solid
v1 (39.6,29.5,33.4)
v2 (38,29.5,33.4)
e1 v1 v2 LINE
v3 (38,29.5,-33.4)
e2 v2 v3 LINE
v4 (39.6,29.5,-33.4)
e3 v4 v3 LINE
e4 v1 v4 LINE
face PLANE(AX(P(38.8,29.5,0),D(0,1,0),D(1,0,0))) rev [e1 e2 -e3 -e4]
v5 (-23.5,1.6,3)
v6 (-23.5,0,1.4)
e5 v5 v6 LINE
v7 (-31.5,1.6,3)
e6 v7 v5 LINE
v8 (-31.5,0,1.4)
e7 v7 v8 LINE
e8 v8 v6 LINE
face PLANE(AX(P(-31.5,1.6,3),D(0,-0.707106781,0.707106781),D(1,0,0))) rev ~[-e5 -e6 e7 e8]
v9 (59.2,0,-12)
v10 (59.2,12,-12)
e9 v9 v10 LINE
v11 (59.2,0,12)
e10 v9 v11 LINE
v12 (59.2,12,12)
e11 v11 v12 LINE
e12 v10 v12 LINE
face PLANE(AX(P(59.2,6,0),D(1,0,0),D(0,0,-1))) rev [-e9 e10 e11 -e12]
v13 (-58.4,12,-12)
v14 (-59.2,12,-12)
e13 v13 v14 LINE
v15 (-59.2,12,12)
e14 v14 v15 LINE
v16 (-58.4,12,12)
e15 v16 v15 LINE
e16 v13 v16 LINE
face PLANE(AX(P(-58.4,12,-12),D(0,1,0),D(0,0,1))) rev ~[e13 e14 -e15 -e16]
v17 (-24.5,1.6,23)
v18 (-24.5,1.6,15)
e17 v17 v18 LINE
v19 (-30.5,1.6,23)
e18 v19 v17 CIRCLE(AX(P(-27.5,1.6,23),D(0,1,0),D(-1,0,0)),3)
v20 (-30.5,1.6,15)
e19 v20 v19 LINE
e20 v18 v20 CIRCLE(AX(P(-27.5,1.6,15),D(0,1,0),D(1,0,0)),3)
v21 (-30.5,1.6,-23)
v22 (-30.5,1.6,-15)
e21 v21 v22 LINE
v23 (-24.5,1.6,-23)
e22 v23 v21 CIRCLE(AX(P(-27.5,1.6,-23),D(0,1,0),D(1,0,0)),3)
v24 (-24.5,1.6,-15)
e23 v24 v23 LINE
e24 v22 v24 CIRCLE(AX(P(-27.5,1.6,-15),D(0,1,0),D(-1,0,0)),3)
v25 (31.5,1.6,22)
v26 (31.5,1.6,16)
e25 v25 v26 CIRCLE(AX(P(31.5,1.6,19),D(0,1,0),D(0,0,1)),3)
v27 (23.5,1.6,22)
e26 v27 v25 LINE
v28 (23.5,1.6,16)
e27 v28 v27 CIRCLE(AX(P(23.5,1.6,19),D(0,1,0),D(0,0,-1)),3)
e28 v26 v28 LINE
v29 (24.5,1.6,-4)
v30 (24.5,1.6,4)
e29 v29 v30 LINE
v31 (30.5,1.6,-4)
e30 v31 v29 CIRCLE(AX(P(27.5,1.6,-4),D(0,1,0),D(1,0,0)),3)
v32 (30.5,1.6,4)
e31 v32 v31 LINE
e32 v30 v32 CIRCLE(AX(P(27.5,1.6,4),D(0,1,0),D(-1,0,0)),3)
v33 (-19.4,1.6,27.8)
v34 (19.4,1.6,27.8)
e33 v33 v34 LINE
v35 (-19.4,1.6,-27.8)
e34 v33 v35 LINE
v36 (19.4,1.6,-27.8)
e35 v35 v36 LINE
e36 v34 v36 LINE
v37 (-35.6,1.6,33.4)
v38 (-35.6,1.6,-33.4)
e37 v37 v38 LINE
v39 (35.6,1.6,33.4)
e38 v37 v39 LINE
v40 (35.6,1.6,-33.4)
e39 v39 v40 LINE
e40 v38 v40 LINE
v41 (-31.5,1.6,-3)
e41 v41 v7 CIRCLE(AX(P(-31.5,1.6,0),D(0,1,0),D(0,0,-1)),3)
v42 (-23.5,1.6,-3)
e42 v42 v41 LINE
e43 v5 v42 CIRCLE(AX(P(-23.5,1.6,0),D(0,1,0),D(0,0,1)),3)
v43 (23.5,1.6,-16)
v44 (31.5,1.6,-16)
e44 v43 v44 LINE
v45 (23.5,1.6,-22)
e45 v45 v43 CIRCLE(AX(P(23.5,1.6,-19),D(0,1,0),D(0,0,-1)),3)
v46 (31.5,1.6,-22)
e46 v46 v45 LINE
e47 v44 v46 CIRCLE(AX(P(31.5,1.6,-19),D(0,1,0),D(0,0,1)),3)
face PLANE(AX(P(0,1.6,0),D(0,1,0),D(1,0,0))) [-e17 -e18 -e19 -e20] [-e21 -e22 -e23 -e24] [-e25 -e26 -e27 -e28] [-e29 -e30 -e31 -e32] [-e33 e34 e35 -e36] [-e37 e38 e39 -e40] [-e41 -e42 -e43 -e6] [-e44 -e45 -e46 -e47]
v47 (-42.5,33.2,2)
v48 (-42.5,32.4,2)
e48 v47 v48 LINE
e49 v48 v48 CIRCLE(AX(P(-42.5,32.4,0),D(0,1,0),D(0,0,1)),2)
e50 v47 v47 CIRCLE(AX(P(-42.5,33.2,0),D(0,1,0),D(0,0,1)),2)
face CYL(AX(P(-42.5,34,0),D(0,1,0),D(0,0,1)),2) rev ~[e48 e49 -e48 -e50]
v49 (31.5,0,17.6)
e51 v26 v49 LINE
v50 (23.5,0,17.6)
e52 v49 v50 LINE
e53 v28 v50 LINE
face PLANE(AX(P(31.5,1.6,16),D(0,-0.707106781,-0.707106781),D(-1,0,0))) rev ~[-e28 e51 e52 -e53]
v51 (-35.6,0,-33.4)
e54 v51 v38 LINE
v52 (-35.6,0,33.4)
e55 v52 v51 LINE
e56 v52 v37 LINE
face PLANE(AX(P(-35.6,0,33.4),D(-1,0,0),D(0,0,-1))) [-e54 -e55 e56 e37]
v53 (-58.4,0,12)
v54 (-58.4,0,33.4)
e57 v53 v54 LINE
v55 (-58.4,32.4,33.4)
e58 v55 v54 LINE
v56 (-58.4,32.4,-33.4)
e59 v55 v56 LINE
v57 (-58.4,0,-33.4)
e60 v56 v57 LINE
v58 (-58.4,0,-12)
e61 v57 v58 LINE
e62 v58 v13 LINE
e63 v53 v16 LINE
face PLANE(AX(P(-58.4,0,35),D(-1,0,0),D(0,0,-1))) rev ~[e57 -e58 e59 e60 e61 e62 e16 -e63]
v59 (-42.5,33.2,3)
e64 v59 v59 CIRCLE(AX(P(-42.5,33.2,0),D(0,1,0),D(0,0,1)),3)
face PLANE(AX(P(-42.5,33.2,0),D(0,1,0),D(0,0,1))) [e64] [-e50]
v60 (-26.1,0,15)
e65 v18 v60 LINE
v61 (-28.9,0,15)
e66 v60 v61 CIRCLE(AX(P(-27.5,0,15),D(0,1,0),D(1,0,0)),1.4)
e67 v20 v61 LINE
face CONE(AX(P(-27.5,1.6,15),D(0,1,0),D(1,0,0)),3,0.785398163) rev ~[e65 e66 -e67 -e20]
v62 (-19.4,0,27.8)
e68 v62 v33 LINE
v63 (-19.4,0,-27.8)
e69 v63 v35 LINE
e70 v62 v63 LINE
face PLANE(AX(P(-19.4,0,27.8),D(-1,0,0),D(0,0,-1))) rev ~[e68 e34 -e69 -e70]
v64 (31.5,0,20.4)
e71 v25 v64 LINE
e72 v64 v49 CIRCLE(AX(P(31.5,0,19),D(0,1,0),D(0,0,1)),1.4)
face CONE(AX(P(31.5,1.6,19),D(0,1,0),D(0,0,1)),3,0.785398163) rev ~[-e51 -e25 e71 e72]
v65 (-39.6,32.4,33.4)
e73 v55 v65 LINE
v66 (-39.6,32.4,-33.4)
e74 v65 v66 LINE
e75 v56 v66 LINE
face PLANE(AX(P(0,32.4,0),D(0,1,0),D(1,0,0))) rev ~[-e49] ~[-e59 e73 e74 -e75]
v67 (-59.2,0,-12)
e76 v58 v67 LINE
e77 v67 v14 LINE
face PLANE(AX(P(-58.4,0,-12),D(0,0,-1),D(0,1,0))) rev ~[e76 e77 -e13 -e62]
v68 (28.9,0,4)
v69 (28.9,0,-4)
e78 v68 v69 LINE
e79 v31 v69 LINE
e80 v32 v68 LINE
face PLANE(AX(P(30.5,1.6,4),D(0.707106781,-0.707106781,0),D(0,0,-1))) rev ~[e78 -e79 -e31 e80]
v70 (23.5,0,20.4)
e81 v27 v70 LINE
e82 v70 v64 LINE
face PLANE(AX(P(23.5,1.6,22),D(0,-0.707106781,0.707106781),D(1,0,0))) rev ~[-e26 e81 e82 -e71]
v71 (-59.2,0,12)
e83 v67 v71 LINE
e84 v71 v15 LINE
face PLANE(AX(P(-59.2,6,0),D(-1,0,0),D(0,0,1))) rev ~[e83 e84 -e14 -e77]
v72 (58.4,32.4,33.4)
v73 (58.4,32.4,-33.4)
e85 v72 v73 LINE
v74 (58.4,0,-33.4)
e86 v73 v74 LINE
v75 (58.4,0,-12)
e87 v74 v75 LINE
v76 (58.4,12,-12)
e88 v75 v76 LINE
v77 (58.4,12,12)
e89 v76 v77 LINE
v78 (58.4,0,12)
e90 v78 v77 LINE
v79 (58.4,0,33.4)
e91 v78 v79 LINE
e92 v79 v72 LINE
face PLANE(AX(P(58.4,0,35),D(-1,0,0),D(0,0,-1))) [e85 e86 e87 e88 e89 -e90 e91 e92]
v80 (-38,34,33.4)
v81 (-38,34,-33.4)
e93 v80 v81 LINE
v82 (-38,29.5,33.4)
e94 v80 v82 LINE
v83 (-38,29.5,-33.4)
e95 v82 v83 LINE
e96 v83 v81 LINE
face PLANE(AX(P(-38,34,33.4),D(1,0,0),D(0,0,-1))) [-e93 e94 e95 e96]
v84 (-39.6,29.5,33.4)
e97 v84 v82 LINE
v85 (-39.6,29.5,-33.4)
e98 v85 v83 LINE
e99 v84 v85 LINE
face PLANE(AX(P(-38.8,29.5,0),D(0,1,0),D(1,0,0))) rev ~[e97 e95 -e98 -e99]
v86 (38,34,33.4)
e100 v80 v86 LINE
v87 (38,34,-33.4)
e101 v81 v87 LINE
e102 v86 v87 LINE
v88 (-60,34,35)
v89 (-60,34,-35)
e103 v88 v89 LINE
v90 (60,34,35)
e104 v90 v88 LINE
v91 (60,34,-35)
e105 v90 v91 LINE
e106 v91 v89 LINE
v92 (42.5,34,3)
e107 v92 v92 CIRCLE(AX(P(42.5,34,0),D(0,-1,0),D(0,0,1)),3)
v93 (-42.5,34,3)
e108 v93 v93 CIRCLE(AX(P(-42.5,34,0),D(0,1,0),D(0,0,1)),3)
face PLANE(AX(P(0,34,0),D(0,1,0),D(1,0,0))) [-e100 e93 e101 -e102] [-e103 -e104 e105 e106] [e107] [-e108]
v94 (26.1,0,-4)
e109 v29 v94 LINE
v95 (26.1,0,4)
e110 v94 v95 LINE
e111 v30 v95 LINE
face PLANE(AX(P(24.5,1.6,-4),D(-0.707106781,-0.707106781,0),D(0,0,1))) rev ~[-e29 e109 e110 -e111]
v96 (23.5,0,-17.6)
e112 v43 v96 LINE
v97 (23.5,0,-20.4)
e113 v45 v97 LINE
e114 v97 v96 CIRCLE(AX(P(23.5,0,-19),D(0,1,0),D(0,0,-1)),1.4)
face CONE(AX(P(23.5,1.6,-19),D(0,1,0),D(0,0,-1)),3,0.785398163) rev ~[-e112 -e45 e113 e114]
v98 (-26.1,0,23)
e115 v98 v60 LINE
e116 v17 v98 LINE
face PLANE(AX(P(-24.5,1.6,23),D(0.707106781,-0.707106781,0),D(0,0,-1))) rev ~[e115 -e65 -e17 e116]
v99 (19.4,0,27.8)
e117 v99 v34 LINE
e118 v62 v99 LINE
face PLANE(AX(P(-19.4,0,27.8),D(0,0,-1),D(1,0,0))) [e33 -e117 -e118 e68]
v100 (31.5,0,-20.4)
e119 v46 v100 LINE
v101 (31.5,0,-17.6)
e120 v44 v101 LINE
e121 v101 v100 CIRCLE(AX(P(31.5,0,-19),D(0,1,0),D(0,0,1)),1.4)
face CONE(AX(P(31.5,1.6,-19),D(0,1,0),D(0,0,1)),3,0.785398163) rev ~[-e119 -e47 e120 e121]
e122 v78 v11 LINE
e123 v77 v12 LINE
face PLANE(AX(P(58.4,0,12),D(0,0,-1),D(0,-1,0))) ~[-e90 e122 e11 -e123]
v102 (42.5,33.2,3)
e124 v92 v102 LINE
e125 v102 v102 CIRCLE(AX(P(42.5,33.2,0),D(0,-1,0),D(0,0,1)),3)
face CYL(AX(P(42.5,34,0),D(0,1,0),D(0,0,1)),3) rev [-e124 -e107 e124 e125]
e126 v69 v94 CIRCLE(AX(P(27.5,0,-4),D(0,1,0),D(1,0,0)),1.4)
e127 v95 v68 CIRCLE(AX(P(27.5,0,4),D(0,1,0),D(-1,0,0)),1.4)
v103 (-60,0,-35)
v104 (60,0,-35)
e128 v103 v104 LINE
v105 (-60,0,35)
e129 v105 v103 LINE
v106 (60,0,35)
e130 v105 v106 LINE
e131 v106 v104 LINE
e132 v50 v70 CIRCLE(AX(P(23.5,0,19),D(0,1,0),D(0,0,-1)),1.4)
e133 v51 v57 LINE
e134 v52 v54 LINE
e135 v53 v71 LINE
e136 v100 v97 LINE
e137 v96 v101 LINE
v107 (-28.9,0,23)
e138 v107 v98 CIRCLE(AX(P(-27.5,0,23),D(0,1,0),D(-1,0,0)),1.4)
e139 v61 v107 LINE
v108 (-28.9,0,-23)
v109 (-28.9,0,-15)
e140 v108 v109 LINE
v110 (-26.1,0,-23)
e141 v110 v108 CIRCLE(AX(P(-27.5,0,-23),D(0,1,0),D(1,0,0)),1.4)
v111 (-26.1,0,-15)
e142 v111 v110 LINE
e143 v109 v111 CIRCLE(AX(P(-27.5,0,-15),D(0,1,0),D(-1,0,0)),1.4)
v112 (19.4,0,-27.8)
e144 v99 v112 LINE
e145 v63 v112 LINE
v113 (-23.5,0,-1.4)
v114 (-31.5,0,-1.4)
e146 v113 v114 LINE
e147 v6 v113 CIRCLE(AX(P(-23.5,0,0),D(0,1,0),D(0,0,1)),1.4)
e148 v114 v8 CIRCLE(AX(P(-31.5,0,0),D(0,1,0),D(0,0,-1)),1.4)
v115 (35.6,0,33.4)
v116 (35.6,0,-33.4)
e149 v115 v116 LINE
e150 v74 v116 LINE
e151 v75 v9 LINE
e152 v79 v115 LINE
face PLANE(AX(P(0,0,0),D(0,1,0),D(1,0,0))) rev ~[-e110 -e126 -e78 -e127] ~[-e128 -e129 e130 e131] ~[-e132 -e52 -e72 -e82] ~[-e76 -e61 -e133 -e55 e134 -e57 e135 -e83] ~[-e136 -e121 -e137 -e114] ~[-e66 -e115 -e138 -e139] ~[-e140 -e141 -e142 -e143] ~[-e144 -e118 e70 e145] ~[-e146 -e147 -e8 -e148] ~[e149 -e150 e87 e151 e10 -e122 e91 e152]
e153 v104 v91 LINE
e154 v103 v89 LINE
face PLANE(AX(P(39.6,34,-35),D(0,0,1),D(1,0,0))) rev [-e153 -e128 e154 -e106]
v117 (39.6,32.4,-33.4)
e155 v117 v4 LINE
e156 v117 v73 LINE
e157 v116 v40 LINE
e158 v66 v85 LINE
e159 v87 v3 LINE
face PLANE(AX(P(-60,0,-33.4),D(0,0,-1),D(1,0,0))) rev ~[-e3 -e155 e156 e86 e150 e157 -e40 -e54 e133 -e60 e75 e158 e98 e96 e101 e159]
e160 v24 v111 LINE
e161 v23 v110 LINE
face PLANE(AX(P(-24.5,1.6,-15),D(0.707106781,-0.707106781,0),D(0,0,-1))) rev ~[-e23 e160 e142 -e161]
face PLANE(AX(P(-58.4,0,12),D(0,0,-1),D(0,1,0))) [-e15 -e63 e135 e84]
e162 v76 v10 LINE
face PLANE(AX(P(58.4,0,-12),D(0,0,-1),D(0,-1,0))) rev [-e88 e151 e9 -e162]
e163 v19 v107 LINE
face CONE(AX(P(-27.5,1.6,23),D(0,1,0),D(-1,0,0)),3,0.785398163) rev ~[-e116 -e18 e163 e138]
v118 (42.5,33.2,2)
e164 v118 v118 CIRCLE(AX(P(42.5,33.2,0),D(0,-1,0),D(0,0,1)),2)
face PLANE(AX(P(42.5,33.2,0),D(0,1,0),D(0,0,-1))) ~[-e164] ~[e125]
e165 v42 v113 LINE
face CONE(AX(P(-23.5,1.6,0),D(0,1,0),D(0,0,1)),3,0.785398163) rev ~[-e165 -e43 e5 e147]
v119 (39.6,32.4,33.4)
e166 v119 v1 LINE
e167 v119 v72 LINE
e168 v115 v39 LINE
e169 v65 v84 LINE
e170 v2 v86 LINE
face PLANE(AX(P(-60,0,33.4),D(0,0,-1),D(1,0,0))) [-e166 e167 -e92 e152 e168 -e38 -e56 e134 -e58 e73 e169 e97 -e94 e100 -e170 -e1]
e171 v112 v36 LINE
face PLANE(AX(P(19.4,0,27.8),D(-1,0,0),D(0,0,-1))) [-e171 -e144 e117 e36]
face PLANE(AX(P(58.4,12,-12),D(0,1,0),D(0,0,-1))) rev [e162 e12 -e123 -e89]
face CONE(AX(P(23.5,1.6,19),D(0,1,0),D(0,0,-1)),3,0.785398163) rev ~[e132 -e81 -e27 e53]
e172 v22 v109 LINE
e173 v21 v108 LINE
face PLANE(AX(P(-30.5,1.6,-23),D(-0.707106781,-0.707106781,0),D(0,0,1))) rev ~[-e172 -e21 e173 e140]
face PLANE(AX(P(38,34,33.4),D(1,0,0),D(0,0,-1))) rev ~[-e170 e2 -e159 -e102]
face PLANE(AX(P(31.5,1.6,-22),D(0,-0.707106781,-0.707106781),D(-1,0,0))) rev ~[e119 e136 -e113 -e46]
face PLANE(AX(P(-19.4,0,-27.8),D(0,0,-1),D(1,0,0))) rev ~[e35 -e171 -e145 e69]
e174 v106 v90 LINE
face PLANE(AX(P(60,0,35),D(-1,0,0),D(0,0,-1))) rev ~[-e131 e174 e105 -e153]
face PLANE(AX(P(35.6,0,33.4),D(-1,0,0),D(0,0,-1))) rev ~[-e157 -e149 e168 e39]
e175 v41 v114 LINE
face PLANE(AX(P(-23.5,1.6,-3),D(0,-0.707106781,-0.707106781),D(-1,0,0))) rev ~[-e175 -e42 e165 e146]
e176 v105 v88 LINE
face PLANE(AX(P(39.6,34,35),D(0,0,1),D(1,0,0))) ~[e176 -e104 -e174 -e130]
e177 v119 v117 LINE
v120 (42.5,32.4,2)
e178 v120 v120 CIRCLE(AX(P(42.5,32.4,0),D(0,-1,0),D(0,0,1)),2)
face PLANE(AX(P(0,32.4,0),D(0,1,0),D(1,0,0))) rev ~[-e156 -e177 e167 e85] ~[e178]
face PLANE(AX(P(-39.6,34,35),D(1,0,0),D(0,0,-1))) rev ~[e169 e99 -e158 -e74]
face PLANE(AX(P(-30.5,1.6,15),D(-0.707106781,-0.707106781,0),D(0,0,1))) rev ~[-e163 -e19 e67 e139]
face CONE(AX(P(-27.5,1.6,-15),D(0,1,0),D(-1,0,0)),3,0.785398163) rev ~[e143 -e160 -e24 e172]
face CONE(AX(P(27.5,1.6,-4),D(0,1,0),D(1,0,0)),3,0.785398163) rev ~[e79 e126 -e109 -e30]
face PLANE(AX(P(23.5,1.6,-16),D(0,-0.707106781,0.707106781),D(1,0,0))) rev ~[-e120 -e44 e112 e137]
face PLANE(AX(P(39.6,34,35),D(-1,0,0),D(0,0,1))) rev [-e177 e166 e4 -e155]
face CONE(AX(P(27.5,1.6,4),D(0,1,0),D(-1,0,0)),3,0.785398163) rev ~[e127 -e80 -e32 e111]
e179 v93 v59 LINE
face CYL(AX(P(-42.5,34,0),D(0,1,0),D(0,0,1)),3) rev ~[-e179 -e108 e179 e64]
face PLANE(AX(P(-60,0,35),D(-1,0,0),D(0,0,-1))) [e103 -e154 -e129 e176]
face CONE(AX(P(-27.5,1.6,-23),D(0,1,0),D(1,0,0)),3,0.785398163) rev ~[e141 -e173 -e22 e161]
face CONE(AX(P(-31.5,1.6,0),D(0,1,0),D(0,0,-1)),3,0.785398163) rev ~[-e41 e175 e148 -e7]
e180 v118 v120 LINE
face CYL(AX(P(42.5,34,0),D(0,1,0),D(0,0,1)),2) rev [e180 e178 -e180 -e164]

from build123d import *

# Parameters (mm, degrees)
SKETCH1_W                    = 120
SKETCH1_H                    = 70
BOSS_EXTRUDE1_DEPTH          = 34
SHELL1_T                     = -1.6
CUT_EXTRUDE1_REACH           = 79.337
SKETCH2_W                    = 76
SKETCH2_H                    = 66.8
SKETCH3_W                    = 1.6
SKETCH3_H                    = 70
BOSS_EXTRUDE2_DEPTH          = 4.5
SKETCH4_R                    = 3
CUT_EXTRUDE2_DEPTH           = 0.8
CUT_EXTRUDE3_REACH           = 79.337
SKETCH5_R                    = 2
SKETCH7_W                    = 71.2
SKETCH7_H                    = 66.8
SKETCH7_W_2                  = 38.8
SKETCH7_H_2                  = 55.6
BOSS_EXTRUDE3_DEPTH          = 1.6
CUT_EXTRUDE4_DEPTH           = 1.6
CUT_EXTRUDE4_DRAFT           = -45
CUT_EXTRUDE4_PROFILE_2_DEPTH = 1.6
CUT_EXTRUDE4_PROFILE_2_DRAFT = -45
CUT_EXTRUDE4_PROFILE_3_DEPTH = 1.6
CUT_EXTRUDE4_PROFILE_3_DRAFT = -45
CUT_EXTRUDE4_PROFILE_4_DEPTH = 1.6
CUT_EXTRUDE4_PROFILE_4_DRAFT = -45
CUT_EXTRUDE4_PROFILE_5_DEPTH = 1.6
CUT_EXTRUDE4_PROFILE_5_DRAFT = -45
CUT_EXTRUDE4_PROFILE_6_DEPTH = 1.6
CUT_EXTRUDE4_PROFILE_6_DRAFT = -45
CUT_EXTRUDE5_START           = -1.6
SKETCH9_W                    = 24
SKETCH9_H                    = 12
CUT_EXTRUDE5_DEPTH           = 0.8


with BuildPart() as part:
    # Sketch1 → Boss-Extrude1 (new body)
    with BuildSketch(Plane(origin=(0, 0, 0), x_dir=(1, 0, 0), z_dir=(0, 1, 0))):
        Rectangle(SKETCH1_W, SKETCH1_H)
    extrude(amount=BOSS_EXTRUDE1_DEPTH)

    # Shell1
    shell1_openings = [part.faces().sort_by_distance(p)[0] for p in [
        (0, 0, 0),
    ]]
    offset(amount=SHELL1_T, openings=shell1_openings, kind=Kind.INTERSECTION)

    # Sketch2 → Cut-Extrude1 (cut, up to next)
    with BuildSketch(Plane(origin=(0, 34, 0), x_dir=(1, 0, 0), z_dir=(0, 1, 0)), mode=Mode.PRIVATE) as cut_extrude1_sk1:
        Rectangle(SKETCH2_W, SKETCH2_H)
    cut_extrude1_tool1 = extrude(cut_extrude1_sk1.sketch, amount=-CUT_EXTRUDE1_REACH, mode=Mode.PRIVATE) & part.part
    add(cut_extrude1_tool1.solids().sort_by_distance((0, 34, 0))[0], mode=Mode.SUBTRACT)

    # Sketch3 → Boss-Extrude2 (add)
    with BuildSketch(Plane(origin=(0, 34, 0), x_dir=(1, 0, 0), z_dir=(0, 1, 0))):
        with Locations((-38.8, 0)):
            Rectangle(SKETCH3_W, SKETCH3_H)
    boss_extrude2 = extrude(amount=-BOSS_EXTRUDE2_DEPTH)

    # Sketch4 → Cut-Extrude2 (cut)
    with BuildSketch(Plane(origin=(0, 34, 0), x_dir=(1, 0, 0), z_dir=(0, 1, 0))):
        with Locations(Location((-42.5, 0, 0), (0, 0, 270))):
            Circle(SKETCH4_R)
    cut_extrude2 = extrude(amount=-CUT_EXTRUDE2_DEPTH, mode=Mode.SUBTRACT)

    # Sketch5 → Cut-Extrude3 (cut, up to next)
    with BuildSketch(Plane(origin=(0, 34, 0), x_dir=(1, 0, 0), z_dir=(0, 1, 0)), mode=Mode.PRIVATE) as cut_extrude3_sk1:
        with Locations(Location((-42.5, 0, 0), (0, 0, 270))):
            Circle(SKETCH5_R)
    cut_extrude3_tool1 = extrude(cut_extrude3_sk1.sketch, amount=-CUT_EXTRUDE3_REACH, mode=Mode.PRIVATE) & part.part
    cut_extrude3 = cut_extrude3_tool1.solids().sort_by_distance((-42.5, 34, 0))[0]
    add(cut_extrude3, mode=Mode.SUBTRACT)

    # Mirror1: Boss-Extrude2, Cut-Extrude2, Cut-Extrude3 across plane
    add(boss_extrude2.mirror(Plane(origin=(0, 0, 0), x_dir=(0, 0, 1), z_dir=(1, 0, 0))))
    add(cut_extrude2.mirror(Plane(origin=(0, 0, 0), x_dir=(0, 0, 1), z_dir=(1, 0, 0))), mode=Mode.SUBTRACT)
    add(cut_extrude3.mirror(Plane(origin=(0, 0, 0), x_dir=(0, 0, 1), z_dir=(1, 0, 0))), mode=Mode.SUBTRACT)

    # Sketch7 → Boss-Extrude3 (add)
    with BuildSketch(Plane(origin=(0, 0, 0), x_dir=(1, 0, 0), z_dir=(0, 1, 0))):
        Rectangle(SKETCH7_W, SKETCH7_H)
        Rectangle(SKETCH7_W_2, SKETCH7_H_2, mode=Mode.SUBTRACT)
    extrude(amount=BOSS_EXTRUDE3_DEPTH)


with BuildPart() as cut_extrude4_tool:
    # Sketch8 → Cut-Extrude4 (with draft: the straight prism first)
    with BuildSketch(Plane(origin=(0, 1.6, 0), x_dir=(1, 0, 0), z_dir=(0, 1, 0))):
        with BuildLine():
            ThreePointArc((-31.5, 3), (-34.5, 0), (-31.5, -3))
            Line((-31.5, -3), (-23.5, -3))
            ThreePointArc((-23.5, -3), (-20.5, 0), (-23.5, 3))
            Line((-23.5, 3), (-31.5, 3))
        make_face()
    extrude(amount=-CUT_EXTRUDE4_DEPTH)
    # Cut-Extrude4: the draft: its side faces are tilted about the plane it starts from
    cut_extrude4_sides = [cut_extrude4_tool.faces().sort_by_distance(p)[0] for p in [
        (-20.5, 0.8, 0),
        (-27.5, 0.8, -3),
        (-34.5, 0.8, 0),
        (-27.5, 0.8, 3),
    ]]
    draft(cut_extrude4_sides, Plane(origin=(0, 1.6, 0), x_dir=(1, 0, 0), z_dir=(0, 1, 0)), CUT_EXTRUDE4_DRAFT)


with BuildPart() as part_1:
    add(part.part)

    # Cut-Extrude4: cut by cut_extrude4_tool
    add(cut_extrude4_tool.part, mode=Mode.SUBTRACT)


with BuildPart() as cut_extrude4_profile_2_tool:
    # Sketch8 → Cut-Extrude4 profile 2 (with draft: the straight prism first)
    with BuildSketch(Plane(origin=(0, 1.6, 0), x_dir=(1, 0, 0), z_dir=(0, 1, 0))):
        with BuildLine():
            ThreePointArc((24.5, -4), (27.5, -7), (30.5, -4))
            Line((30.5, -4), (30.5, 4))
            ThreePointArc((30.5, 4), (27.5, 7), (24.5, 4))
            Line((24.5, 4), (24.5, -4))
        make_face()
    extrude(amount=-CUT_EXTRUDE4_PROFILE_2_DEPTH)
    # Cut-Extrude4 profile 2: the draft: its side faces are tilted about the plane it starts from
    cut_extrude4_profile_2_sides = [cut_extrude4_profile_2_tool.faces().sort_by_distance(p)[0] for p in [
        (27.5, 0.8, -7),
        (24.5, 0.8, 0),
        (27.5, 0.8, 7),
        (30.5, 0.8, 0),
    ]]
    draft(cut_extrude4_profile_2_sides, Plane(origin=(0, 1.6, 0), x_dir=(1, 0, 0), z_dir=(0, 1, 0)), CUT_EXTRUDE4_PROFILE_2_DRAFT)


with BuildPart() as part_2:
    add(part_1.part)

    # Cut-Extrude4 profile 2: cut by cut_extrude4_profile_2_tool
    add(cut_extrude4_profile_2_tool.part, mode=Mode.SUBTRACT)


with BuildPart() as cut_extrude4_profile_3_tool:
    # Sketch8 → Cut-Extrude4 profile 3 (with draft: the straight prism first)
    with BuildSketch(Plane(origin=(0, 1.6, 0), x_dir=(1, 0, 0), z_dir=(0, 1, 0))):
        with BuildLine():
            ThreePointArc((23.5, 22), (20.5, 19), (23.5, 16))
            Line((23.5, 16), (31.5, 16))
            ThreePointArc((31.5, 16), (34.5, 19), (31.5, 22))
            Line((31.5, 22), (23.5, 22))
        make_face()
    extrude(amount=-CUT_EXTRUDE4_PROFILE_3_DEPTH)
    # Cut-Extrude4 profile 3: the draft: its side faces are tilted about the plane it starts from
    cut_extrude4_profile_3_sides = [cut_extrude4_profile_3_tool.faces().sort_by_distance(p)[0] for p in [
        (34.5, 0.8, -19),
        (27.5, 0.8, -22),
        (20.5, 0.8, -19),
        (27.5, 0.8, -16),
    ]]
    draft(cut_extrude4_profile_3_sides, Plane(origin=(0, 1.6, 0), x_dir=(1, 0, 0), z_dir=(0, 1, 0)), CUT_EXTRUDE4_PROFILE_3_DRAFT)


with BuildPart() as part_3:
    add(part_2.part)

    # Cut-Extrude4 profile 3: cut by cut_extrude4_profile_3_tool
    add(cut_extrude4_profile_3_tool.part, mode=Mode.SUBTRACT)


with BuildPart() as cut_extrude4_profile_4_tool:
    # Sketch8 → Cut-Extrude4 profile 4 (with draft: the straight prism first)
    with BuildSketch(Plane(origin=(0, 1.6, 0), x_dir=(1, 0, 0), z_dir=(0, 1, 0))):
        with BuildLine():
            ThreePointArc((23.5, -16), (20.5, -19), (23.5, -22))
            Line((23.5, -22), (31.5, -22))
            ThreePointArc((31.5, -22), (34.5, -19), (31.5, -16))
            Line((31.5, -16), (23.5, -16))
        make_face()
    extrude(amount=-CUT_EXTRUDE4_PROFILE_4_DEPTH)
    # Cut-Extrude4 profile 4: the draft: its side faces are tilted about the plane it starts from
    cut_extrude4_profile_4_sides = [cut_extrude4_profile_4_tool.faces().sort_by_distance(p)[0] for p in [
        (34.5, 0.8, 19),
        (27.5, 0.8, 16),
        (20.5, 0.8, 19),
        (27.5, 0.8, 22),
    ]]
    draft(cut_extrude4_profile_4_sides, Plane(origin=(0, 1.6, 0), x_dir=(1, 0, 0), z_dir=(0, 1, 0)), CUT_EXTRUDE4_PROFILE_4_DRAFT)


with BuildPart() as part_4:
    add(part_3.part)

    # Cut-Extrude4 profile 4: cut by cut_extrude4_profile_4_tool
    add(cut_extrude4_profile_4_tool.part, mode=Mode.SUBTRACT)


with BuildPart() as cut_extrude4_profile_5_tool:
    # Sketch8 → Cut-Extrude4 profile 5 (with draft: the straight prism first)
    with BuildSketch(Plane(origin=(0, 1.6, 0), x_dir=(1, 0, 0), z_dir=(0, 1, 0))):
        with BuildLine():
            ThreePointArc((-30.5, 15), (-27.5, 12), (-24.5, 15))
            Line((-24.5, 15), (-24.5, 23))
            ThreePointArc((-24.5, 23), (-27.5, 26), (-30.5, 23))
            Line((-30.5, 23), (-30.5, 15))
        make_face()
    extrude(amount=-CUT_EXTRUDE4_PROFILE_5_DEPTH)
    # Cut-Extrude4 profile 5: the draft: its side faces are tilted about the plane it starts from
    cut_extrude4_profile_5_sides = [cut_extrude4_profile_5_tool.faces().sort_by_distance(p)[0] for p in [
        (-24.5, 0.8, -19),
        (-27.5, 0.8, -26),
        (-30.5, 0.8, -19),
        (-27.5, 0.8, -12),
    ]]
    draft(cut_extrude4_profile_5_sides, Plane(origin=(0, 1.6, 0), x_dir=(1, 0, 0), z_dir=(0, 1, 0)), CUT_EXTRUDE4_PROFILE_5_DRAFT)


with BuildPart() as part_5:
    add(part_4.part)

    # Cut-Extrude4 profile 5: cut by cut_extrude4_profile_5_tool
    add(cut_extrude4_profile_5_tool.part, mode=Mode.SUBTRACT)


with BuildPart() as cut_extrude4_profile_6_tool:
    # Sketch8 → Cut-Extrude4 profile 6 (with draft: the straight prism first)
    with BuildSketch(Plane(origin=(0, 1.6, 0), x_dir=(1, 0, 0), z_dir=(0, 1, 0))):
        with BuildLine():
            ThreePointArc((-30.5, -23), (-27.5, -26), (-24.5, -23))
            Line((-24.5, -23), (-24.5, -15))
            ThreePointArc((-24.5, -15), (-27.5, -12), (-30.5, -15))
            Line((-30.5, -15), (-30.5, -23))
        make_face()
    extrude(amount=-CUT_EXTRUDE4_PROFILE_6_DEPTH)
    # Cut-Extrude4 profile 6: the draft: its side faces are tilted about the plane it starts from
    cut_extrude4_profile_6_sides = [cut_extrude4_profile_6_tool.faces().sort_by_distance(p)[0] for p in [
        (-27.5, 0.8, 26),
        (-24.5, 0.8, 19),
        (-27.5, 0.8, 12),
        (-30.5, 0.8, 19),
    ]]
    draft(cut_extrude4_profile_6_sides, Plane(origin=(0, 1.6, 0), x_dir=(1, 0, 0), z_dir=(0, 1, 0)), CUT_EXTRUDE4_PROFILE_6_DRAFT)


with BuildPart() as part_6:
    add(part_5.part)

    # Cut-Extrude4 profile 6: cut by cut_extrude4_profile_6_tool
    add(cut_extrude4_profile_6_tool.part, mode=Mode.SUBTRACT)

    # Sketch9 → Cut-Extrude5 (cut)
    with BuildSketch(Plane.ZY.offset(60).offset(CUT_EXTRUDE5_START)):
        with Locations((0, 6)):
            Rectangle(SKETCH9_W, SKETCH9_H)
    cut_extrude5 = extrude(amount=CUT_EXTRUDE5_DEPTH, mode=Mode.SUBTRACT)

    # Mirror2: Cut-Extrude5 across plane
    add(cut_extrude5.mirror(Plane(origin=(0, 0, 0), x_dir=(0, 0, 1), z_dir=(1, 0, 0))), mode=Mode.SUBTRACT)


solid = part_6.part
